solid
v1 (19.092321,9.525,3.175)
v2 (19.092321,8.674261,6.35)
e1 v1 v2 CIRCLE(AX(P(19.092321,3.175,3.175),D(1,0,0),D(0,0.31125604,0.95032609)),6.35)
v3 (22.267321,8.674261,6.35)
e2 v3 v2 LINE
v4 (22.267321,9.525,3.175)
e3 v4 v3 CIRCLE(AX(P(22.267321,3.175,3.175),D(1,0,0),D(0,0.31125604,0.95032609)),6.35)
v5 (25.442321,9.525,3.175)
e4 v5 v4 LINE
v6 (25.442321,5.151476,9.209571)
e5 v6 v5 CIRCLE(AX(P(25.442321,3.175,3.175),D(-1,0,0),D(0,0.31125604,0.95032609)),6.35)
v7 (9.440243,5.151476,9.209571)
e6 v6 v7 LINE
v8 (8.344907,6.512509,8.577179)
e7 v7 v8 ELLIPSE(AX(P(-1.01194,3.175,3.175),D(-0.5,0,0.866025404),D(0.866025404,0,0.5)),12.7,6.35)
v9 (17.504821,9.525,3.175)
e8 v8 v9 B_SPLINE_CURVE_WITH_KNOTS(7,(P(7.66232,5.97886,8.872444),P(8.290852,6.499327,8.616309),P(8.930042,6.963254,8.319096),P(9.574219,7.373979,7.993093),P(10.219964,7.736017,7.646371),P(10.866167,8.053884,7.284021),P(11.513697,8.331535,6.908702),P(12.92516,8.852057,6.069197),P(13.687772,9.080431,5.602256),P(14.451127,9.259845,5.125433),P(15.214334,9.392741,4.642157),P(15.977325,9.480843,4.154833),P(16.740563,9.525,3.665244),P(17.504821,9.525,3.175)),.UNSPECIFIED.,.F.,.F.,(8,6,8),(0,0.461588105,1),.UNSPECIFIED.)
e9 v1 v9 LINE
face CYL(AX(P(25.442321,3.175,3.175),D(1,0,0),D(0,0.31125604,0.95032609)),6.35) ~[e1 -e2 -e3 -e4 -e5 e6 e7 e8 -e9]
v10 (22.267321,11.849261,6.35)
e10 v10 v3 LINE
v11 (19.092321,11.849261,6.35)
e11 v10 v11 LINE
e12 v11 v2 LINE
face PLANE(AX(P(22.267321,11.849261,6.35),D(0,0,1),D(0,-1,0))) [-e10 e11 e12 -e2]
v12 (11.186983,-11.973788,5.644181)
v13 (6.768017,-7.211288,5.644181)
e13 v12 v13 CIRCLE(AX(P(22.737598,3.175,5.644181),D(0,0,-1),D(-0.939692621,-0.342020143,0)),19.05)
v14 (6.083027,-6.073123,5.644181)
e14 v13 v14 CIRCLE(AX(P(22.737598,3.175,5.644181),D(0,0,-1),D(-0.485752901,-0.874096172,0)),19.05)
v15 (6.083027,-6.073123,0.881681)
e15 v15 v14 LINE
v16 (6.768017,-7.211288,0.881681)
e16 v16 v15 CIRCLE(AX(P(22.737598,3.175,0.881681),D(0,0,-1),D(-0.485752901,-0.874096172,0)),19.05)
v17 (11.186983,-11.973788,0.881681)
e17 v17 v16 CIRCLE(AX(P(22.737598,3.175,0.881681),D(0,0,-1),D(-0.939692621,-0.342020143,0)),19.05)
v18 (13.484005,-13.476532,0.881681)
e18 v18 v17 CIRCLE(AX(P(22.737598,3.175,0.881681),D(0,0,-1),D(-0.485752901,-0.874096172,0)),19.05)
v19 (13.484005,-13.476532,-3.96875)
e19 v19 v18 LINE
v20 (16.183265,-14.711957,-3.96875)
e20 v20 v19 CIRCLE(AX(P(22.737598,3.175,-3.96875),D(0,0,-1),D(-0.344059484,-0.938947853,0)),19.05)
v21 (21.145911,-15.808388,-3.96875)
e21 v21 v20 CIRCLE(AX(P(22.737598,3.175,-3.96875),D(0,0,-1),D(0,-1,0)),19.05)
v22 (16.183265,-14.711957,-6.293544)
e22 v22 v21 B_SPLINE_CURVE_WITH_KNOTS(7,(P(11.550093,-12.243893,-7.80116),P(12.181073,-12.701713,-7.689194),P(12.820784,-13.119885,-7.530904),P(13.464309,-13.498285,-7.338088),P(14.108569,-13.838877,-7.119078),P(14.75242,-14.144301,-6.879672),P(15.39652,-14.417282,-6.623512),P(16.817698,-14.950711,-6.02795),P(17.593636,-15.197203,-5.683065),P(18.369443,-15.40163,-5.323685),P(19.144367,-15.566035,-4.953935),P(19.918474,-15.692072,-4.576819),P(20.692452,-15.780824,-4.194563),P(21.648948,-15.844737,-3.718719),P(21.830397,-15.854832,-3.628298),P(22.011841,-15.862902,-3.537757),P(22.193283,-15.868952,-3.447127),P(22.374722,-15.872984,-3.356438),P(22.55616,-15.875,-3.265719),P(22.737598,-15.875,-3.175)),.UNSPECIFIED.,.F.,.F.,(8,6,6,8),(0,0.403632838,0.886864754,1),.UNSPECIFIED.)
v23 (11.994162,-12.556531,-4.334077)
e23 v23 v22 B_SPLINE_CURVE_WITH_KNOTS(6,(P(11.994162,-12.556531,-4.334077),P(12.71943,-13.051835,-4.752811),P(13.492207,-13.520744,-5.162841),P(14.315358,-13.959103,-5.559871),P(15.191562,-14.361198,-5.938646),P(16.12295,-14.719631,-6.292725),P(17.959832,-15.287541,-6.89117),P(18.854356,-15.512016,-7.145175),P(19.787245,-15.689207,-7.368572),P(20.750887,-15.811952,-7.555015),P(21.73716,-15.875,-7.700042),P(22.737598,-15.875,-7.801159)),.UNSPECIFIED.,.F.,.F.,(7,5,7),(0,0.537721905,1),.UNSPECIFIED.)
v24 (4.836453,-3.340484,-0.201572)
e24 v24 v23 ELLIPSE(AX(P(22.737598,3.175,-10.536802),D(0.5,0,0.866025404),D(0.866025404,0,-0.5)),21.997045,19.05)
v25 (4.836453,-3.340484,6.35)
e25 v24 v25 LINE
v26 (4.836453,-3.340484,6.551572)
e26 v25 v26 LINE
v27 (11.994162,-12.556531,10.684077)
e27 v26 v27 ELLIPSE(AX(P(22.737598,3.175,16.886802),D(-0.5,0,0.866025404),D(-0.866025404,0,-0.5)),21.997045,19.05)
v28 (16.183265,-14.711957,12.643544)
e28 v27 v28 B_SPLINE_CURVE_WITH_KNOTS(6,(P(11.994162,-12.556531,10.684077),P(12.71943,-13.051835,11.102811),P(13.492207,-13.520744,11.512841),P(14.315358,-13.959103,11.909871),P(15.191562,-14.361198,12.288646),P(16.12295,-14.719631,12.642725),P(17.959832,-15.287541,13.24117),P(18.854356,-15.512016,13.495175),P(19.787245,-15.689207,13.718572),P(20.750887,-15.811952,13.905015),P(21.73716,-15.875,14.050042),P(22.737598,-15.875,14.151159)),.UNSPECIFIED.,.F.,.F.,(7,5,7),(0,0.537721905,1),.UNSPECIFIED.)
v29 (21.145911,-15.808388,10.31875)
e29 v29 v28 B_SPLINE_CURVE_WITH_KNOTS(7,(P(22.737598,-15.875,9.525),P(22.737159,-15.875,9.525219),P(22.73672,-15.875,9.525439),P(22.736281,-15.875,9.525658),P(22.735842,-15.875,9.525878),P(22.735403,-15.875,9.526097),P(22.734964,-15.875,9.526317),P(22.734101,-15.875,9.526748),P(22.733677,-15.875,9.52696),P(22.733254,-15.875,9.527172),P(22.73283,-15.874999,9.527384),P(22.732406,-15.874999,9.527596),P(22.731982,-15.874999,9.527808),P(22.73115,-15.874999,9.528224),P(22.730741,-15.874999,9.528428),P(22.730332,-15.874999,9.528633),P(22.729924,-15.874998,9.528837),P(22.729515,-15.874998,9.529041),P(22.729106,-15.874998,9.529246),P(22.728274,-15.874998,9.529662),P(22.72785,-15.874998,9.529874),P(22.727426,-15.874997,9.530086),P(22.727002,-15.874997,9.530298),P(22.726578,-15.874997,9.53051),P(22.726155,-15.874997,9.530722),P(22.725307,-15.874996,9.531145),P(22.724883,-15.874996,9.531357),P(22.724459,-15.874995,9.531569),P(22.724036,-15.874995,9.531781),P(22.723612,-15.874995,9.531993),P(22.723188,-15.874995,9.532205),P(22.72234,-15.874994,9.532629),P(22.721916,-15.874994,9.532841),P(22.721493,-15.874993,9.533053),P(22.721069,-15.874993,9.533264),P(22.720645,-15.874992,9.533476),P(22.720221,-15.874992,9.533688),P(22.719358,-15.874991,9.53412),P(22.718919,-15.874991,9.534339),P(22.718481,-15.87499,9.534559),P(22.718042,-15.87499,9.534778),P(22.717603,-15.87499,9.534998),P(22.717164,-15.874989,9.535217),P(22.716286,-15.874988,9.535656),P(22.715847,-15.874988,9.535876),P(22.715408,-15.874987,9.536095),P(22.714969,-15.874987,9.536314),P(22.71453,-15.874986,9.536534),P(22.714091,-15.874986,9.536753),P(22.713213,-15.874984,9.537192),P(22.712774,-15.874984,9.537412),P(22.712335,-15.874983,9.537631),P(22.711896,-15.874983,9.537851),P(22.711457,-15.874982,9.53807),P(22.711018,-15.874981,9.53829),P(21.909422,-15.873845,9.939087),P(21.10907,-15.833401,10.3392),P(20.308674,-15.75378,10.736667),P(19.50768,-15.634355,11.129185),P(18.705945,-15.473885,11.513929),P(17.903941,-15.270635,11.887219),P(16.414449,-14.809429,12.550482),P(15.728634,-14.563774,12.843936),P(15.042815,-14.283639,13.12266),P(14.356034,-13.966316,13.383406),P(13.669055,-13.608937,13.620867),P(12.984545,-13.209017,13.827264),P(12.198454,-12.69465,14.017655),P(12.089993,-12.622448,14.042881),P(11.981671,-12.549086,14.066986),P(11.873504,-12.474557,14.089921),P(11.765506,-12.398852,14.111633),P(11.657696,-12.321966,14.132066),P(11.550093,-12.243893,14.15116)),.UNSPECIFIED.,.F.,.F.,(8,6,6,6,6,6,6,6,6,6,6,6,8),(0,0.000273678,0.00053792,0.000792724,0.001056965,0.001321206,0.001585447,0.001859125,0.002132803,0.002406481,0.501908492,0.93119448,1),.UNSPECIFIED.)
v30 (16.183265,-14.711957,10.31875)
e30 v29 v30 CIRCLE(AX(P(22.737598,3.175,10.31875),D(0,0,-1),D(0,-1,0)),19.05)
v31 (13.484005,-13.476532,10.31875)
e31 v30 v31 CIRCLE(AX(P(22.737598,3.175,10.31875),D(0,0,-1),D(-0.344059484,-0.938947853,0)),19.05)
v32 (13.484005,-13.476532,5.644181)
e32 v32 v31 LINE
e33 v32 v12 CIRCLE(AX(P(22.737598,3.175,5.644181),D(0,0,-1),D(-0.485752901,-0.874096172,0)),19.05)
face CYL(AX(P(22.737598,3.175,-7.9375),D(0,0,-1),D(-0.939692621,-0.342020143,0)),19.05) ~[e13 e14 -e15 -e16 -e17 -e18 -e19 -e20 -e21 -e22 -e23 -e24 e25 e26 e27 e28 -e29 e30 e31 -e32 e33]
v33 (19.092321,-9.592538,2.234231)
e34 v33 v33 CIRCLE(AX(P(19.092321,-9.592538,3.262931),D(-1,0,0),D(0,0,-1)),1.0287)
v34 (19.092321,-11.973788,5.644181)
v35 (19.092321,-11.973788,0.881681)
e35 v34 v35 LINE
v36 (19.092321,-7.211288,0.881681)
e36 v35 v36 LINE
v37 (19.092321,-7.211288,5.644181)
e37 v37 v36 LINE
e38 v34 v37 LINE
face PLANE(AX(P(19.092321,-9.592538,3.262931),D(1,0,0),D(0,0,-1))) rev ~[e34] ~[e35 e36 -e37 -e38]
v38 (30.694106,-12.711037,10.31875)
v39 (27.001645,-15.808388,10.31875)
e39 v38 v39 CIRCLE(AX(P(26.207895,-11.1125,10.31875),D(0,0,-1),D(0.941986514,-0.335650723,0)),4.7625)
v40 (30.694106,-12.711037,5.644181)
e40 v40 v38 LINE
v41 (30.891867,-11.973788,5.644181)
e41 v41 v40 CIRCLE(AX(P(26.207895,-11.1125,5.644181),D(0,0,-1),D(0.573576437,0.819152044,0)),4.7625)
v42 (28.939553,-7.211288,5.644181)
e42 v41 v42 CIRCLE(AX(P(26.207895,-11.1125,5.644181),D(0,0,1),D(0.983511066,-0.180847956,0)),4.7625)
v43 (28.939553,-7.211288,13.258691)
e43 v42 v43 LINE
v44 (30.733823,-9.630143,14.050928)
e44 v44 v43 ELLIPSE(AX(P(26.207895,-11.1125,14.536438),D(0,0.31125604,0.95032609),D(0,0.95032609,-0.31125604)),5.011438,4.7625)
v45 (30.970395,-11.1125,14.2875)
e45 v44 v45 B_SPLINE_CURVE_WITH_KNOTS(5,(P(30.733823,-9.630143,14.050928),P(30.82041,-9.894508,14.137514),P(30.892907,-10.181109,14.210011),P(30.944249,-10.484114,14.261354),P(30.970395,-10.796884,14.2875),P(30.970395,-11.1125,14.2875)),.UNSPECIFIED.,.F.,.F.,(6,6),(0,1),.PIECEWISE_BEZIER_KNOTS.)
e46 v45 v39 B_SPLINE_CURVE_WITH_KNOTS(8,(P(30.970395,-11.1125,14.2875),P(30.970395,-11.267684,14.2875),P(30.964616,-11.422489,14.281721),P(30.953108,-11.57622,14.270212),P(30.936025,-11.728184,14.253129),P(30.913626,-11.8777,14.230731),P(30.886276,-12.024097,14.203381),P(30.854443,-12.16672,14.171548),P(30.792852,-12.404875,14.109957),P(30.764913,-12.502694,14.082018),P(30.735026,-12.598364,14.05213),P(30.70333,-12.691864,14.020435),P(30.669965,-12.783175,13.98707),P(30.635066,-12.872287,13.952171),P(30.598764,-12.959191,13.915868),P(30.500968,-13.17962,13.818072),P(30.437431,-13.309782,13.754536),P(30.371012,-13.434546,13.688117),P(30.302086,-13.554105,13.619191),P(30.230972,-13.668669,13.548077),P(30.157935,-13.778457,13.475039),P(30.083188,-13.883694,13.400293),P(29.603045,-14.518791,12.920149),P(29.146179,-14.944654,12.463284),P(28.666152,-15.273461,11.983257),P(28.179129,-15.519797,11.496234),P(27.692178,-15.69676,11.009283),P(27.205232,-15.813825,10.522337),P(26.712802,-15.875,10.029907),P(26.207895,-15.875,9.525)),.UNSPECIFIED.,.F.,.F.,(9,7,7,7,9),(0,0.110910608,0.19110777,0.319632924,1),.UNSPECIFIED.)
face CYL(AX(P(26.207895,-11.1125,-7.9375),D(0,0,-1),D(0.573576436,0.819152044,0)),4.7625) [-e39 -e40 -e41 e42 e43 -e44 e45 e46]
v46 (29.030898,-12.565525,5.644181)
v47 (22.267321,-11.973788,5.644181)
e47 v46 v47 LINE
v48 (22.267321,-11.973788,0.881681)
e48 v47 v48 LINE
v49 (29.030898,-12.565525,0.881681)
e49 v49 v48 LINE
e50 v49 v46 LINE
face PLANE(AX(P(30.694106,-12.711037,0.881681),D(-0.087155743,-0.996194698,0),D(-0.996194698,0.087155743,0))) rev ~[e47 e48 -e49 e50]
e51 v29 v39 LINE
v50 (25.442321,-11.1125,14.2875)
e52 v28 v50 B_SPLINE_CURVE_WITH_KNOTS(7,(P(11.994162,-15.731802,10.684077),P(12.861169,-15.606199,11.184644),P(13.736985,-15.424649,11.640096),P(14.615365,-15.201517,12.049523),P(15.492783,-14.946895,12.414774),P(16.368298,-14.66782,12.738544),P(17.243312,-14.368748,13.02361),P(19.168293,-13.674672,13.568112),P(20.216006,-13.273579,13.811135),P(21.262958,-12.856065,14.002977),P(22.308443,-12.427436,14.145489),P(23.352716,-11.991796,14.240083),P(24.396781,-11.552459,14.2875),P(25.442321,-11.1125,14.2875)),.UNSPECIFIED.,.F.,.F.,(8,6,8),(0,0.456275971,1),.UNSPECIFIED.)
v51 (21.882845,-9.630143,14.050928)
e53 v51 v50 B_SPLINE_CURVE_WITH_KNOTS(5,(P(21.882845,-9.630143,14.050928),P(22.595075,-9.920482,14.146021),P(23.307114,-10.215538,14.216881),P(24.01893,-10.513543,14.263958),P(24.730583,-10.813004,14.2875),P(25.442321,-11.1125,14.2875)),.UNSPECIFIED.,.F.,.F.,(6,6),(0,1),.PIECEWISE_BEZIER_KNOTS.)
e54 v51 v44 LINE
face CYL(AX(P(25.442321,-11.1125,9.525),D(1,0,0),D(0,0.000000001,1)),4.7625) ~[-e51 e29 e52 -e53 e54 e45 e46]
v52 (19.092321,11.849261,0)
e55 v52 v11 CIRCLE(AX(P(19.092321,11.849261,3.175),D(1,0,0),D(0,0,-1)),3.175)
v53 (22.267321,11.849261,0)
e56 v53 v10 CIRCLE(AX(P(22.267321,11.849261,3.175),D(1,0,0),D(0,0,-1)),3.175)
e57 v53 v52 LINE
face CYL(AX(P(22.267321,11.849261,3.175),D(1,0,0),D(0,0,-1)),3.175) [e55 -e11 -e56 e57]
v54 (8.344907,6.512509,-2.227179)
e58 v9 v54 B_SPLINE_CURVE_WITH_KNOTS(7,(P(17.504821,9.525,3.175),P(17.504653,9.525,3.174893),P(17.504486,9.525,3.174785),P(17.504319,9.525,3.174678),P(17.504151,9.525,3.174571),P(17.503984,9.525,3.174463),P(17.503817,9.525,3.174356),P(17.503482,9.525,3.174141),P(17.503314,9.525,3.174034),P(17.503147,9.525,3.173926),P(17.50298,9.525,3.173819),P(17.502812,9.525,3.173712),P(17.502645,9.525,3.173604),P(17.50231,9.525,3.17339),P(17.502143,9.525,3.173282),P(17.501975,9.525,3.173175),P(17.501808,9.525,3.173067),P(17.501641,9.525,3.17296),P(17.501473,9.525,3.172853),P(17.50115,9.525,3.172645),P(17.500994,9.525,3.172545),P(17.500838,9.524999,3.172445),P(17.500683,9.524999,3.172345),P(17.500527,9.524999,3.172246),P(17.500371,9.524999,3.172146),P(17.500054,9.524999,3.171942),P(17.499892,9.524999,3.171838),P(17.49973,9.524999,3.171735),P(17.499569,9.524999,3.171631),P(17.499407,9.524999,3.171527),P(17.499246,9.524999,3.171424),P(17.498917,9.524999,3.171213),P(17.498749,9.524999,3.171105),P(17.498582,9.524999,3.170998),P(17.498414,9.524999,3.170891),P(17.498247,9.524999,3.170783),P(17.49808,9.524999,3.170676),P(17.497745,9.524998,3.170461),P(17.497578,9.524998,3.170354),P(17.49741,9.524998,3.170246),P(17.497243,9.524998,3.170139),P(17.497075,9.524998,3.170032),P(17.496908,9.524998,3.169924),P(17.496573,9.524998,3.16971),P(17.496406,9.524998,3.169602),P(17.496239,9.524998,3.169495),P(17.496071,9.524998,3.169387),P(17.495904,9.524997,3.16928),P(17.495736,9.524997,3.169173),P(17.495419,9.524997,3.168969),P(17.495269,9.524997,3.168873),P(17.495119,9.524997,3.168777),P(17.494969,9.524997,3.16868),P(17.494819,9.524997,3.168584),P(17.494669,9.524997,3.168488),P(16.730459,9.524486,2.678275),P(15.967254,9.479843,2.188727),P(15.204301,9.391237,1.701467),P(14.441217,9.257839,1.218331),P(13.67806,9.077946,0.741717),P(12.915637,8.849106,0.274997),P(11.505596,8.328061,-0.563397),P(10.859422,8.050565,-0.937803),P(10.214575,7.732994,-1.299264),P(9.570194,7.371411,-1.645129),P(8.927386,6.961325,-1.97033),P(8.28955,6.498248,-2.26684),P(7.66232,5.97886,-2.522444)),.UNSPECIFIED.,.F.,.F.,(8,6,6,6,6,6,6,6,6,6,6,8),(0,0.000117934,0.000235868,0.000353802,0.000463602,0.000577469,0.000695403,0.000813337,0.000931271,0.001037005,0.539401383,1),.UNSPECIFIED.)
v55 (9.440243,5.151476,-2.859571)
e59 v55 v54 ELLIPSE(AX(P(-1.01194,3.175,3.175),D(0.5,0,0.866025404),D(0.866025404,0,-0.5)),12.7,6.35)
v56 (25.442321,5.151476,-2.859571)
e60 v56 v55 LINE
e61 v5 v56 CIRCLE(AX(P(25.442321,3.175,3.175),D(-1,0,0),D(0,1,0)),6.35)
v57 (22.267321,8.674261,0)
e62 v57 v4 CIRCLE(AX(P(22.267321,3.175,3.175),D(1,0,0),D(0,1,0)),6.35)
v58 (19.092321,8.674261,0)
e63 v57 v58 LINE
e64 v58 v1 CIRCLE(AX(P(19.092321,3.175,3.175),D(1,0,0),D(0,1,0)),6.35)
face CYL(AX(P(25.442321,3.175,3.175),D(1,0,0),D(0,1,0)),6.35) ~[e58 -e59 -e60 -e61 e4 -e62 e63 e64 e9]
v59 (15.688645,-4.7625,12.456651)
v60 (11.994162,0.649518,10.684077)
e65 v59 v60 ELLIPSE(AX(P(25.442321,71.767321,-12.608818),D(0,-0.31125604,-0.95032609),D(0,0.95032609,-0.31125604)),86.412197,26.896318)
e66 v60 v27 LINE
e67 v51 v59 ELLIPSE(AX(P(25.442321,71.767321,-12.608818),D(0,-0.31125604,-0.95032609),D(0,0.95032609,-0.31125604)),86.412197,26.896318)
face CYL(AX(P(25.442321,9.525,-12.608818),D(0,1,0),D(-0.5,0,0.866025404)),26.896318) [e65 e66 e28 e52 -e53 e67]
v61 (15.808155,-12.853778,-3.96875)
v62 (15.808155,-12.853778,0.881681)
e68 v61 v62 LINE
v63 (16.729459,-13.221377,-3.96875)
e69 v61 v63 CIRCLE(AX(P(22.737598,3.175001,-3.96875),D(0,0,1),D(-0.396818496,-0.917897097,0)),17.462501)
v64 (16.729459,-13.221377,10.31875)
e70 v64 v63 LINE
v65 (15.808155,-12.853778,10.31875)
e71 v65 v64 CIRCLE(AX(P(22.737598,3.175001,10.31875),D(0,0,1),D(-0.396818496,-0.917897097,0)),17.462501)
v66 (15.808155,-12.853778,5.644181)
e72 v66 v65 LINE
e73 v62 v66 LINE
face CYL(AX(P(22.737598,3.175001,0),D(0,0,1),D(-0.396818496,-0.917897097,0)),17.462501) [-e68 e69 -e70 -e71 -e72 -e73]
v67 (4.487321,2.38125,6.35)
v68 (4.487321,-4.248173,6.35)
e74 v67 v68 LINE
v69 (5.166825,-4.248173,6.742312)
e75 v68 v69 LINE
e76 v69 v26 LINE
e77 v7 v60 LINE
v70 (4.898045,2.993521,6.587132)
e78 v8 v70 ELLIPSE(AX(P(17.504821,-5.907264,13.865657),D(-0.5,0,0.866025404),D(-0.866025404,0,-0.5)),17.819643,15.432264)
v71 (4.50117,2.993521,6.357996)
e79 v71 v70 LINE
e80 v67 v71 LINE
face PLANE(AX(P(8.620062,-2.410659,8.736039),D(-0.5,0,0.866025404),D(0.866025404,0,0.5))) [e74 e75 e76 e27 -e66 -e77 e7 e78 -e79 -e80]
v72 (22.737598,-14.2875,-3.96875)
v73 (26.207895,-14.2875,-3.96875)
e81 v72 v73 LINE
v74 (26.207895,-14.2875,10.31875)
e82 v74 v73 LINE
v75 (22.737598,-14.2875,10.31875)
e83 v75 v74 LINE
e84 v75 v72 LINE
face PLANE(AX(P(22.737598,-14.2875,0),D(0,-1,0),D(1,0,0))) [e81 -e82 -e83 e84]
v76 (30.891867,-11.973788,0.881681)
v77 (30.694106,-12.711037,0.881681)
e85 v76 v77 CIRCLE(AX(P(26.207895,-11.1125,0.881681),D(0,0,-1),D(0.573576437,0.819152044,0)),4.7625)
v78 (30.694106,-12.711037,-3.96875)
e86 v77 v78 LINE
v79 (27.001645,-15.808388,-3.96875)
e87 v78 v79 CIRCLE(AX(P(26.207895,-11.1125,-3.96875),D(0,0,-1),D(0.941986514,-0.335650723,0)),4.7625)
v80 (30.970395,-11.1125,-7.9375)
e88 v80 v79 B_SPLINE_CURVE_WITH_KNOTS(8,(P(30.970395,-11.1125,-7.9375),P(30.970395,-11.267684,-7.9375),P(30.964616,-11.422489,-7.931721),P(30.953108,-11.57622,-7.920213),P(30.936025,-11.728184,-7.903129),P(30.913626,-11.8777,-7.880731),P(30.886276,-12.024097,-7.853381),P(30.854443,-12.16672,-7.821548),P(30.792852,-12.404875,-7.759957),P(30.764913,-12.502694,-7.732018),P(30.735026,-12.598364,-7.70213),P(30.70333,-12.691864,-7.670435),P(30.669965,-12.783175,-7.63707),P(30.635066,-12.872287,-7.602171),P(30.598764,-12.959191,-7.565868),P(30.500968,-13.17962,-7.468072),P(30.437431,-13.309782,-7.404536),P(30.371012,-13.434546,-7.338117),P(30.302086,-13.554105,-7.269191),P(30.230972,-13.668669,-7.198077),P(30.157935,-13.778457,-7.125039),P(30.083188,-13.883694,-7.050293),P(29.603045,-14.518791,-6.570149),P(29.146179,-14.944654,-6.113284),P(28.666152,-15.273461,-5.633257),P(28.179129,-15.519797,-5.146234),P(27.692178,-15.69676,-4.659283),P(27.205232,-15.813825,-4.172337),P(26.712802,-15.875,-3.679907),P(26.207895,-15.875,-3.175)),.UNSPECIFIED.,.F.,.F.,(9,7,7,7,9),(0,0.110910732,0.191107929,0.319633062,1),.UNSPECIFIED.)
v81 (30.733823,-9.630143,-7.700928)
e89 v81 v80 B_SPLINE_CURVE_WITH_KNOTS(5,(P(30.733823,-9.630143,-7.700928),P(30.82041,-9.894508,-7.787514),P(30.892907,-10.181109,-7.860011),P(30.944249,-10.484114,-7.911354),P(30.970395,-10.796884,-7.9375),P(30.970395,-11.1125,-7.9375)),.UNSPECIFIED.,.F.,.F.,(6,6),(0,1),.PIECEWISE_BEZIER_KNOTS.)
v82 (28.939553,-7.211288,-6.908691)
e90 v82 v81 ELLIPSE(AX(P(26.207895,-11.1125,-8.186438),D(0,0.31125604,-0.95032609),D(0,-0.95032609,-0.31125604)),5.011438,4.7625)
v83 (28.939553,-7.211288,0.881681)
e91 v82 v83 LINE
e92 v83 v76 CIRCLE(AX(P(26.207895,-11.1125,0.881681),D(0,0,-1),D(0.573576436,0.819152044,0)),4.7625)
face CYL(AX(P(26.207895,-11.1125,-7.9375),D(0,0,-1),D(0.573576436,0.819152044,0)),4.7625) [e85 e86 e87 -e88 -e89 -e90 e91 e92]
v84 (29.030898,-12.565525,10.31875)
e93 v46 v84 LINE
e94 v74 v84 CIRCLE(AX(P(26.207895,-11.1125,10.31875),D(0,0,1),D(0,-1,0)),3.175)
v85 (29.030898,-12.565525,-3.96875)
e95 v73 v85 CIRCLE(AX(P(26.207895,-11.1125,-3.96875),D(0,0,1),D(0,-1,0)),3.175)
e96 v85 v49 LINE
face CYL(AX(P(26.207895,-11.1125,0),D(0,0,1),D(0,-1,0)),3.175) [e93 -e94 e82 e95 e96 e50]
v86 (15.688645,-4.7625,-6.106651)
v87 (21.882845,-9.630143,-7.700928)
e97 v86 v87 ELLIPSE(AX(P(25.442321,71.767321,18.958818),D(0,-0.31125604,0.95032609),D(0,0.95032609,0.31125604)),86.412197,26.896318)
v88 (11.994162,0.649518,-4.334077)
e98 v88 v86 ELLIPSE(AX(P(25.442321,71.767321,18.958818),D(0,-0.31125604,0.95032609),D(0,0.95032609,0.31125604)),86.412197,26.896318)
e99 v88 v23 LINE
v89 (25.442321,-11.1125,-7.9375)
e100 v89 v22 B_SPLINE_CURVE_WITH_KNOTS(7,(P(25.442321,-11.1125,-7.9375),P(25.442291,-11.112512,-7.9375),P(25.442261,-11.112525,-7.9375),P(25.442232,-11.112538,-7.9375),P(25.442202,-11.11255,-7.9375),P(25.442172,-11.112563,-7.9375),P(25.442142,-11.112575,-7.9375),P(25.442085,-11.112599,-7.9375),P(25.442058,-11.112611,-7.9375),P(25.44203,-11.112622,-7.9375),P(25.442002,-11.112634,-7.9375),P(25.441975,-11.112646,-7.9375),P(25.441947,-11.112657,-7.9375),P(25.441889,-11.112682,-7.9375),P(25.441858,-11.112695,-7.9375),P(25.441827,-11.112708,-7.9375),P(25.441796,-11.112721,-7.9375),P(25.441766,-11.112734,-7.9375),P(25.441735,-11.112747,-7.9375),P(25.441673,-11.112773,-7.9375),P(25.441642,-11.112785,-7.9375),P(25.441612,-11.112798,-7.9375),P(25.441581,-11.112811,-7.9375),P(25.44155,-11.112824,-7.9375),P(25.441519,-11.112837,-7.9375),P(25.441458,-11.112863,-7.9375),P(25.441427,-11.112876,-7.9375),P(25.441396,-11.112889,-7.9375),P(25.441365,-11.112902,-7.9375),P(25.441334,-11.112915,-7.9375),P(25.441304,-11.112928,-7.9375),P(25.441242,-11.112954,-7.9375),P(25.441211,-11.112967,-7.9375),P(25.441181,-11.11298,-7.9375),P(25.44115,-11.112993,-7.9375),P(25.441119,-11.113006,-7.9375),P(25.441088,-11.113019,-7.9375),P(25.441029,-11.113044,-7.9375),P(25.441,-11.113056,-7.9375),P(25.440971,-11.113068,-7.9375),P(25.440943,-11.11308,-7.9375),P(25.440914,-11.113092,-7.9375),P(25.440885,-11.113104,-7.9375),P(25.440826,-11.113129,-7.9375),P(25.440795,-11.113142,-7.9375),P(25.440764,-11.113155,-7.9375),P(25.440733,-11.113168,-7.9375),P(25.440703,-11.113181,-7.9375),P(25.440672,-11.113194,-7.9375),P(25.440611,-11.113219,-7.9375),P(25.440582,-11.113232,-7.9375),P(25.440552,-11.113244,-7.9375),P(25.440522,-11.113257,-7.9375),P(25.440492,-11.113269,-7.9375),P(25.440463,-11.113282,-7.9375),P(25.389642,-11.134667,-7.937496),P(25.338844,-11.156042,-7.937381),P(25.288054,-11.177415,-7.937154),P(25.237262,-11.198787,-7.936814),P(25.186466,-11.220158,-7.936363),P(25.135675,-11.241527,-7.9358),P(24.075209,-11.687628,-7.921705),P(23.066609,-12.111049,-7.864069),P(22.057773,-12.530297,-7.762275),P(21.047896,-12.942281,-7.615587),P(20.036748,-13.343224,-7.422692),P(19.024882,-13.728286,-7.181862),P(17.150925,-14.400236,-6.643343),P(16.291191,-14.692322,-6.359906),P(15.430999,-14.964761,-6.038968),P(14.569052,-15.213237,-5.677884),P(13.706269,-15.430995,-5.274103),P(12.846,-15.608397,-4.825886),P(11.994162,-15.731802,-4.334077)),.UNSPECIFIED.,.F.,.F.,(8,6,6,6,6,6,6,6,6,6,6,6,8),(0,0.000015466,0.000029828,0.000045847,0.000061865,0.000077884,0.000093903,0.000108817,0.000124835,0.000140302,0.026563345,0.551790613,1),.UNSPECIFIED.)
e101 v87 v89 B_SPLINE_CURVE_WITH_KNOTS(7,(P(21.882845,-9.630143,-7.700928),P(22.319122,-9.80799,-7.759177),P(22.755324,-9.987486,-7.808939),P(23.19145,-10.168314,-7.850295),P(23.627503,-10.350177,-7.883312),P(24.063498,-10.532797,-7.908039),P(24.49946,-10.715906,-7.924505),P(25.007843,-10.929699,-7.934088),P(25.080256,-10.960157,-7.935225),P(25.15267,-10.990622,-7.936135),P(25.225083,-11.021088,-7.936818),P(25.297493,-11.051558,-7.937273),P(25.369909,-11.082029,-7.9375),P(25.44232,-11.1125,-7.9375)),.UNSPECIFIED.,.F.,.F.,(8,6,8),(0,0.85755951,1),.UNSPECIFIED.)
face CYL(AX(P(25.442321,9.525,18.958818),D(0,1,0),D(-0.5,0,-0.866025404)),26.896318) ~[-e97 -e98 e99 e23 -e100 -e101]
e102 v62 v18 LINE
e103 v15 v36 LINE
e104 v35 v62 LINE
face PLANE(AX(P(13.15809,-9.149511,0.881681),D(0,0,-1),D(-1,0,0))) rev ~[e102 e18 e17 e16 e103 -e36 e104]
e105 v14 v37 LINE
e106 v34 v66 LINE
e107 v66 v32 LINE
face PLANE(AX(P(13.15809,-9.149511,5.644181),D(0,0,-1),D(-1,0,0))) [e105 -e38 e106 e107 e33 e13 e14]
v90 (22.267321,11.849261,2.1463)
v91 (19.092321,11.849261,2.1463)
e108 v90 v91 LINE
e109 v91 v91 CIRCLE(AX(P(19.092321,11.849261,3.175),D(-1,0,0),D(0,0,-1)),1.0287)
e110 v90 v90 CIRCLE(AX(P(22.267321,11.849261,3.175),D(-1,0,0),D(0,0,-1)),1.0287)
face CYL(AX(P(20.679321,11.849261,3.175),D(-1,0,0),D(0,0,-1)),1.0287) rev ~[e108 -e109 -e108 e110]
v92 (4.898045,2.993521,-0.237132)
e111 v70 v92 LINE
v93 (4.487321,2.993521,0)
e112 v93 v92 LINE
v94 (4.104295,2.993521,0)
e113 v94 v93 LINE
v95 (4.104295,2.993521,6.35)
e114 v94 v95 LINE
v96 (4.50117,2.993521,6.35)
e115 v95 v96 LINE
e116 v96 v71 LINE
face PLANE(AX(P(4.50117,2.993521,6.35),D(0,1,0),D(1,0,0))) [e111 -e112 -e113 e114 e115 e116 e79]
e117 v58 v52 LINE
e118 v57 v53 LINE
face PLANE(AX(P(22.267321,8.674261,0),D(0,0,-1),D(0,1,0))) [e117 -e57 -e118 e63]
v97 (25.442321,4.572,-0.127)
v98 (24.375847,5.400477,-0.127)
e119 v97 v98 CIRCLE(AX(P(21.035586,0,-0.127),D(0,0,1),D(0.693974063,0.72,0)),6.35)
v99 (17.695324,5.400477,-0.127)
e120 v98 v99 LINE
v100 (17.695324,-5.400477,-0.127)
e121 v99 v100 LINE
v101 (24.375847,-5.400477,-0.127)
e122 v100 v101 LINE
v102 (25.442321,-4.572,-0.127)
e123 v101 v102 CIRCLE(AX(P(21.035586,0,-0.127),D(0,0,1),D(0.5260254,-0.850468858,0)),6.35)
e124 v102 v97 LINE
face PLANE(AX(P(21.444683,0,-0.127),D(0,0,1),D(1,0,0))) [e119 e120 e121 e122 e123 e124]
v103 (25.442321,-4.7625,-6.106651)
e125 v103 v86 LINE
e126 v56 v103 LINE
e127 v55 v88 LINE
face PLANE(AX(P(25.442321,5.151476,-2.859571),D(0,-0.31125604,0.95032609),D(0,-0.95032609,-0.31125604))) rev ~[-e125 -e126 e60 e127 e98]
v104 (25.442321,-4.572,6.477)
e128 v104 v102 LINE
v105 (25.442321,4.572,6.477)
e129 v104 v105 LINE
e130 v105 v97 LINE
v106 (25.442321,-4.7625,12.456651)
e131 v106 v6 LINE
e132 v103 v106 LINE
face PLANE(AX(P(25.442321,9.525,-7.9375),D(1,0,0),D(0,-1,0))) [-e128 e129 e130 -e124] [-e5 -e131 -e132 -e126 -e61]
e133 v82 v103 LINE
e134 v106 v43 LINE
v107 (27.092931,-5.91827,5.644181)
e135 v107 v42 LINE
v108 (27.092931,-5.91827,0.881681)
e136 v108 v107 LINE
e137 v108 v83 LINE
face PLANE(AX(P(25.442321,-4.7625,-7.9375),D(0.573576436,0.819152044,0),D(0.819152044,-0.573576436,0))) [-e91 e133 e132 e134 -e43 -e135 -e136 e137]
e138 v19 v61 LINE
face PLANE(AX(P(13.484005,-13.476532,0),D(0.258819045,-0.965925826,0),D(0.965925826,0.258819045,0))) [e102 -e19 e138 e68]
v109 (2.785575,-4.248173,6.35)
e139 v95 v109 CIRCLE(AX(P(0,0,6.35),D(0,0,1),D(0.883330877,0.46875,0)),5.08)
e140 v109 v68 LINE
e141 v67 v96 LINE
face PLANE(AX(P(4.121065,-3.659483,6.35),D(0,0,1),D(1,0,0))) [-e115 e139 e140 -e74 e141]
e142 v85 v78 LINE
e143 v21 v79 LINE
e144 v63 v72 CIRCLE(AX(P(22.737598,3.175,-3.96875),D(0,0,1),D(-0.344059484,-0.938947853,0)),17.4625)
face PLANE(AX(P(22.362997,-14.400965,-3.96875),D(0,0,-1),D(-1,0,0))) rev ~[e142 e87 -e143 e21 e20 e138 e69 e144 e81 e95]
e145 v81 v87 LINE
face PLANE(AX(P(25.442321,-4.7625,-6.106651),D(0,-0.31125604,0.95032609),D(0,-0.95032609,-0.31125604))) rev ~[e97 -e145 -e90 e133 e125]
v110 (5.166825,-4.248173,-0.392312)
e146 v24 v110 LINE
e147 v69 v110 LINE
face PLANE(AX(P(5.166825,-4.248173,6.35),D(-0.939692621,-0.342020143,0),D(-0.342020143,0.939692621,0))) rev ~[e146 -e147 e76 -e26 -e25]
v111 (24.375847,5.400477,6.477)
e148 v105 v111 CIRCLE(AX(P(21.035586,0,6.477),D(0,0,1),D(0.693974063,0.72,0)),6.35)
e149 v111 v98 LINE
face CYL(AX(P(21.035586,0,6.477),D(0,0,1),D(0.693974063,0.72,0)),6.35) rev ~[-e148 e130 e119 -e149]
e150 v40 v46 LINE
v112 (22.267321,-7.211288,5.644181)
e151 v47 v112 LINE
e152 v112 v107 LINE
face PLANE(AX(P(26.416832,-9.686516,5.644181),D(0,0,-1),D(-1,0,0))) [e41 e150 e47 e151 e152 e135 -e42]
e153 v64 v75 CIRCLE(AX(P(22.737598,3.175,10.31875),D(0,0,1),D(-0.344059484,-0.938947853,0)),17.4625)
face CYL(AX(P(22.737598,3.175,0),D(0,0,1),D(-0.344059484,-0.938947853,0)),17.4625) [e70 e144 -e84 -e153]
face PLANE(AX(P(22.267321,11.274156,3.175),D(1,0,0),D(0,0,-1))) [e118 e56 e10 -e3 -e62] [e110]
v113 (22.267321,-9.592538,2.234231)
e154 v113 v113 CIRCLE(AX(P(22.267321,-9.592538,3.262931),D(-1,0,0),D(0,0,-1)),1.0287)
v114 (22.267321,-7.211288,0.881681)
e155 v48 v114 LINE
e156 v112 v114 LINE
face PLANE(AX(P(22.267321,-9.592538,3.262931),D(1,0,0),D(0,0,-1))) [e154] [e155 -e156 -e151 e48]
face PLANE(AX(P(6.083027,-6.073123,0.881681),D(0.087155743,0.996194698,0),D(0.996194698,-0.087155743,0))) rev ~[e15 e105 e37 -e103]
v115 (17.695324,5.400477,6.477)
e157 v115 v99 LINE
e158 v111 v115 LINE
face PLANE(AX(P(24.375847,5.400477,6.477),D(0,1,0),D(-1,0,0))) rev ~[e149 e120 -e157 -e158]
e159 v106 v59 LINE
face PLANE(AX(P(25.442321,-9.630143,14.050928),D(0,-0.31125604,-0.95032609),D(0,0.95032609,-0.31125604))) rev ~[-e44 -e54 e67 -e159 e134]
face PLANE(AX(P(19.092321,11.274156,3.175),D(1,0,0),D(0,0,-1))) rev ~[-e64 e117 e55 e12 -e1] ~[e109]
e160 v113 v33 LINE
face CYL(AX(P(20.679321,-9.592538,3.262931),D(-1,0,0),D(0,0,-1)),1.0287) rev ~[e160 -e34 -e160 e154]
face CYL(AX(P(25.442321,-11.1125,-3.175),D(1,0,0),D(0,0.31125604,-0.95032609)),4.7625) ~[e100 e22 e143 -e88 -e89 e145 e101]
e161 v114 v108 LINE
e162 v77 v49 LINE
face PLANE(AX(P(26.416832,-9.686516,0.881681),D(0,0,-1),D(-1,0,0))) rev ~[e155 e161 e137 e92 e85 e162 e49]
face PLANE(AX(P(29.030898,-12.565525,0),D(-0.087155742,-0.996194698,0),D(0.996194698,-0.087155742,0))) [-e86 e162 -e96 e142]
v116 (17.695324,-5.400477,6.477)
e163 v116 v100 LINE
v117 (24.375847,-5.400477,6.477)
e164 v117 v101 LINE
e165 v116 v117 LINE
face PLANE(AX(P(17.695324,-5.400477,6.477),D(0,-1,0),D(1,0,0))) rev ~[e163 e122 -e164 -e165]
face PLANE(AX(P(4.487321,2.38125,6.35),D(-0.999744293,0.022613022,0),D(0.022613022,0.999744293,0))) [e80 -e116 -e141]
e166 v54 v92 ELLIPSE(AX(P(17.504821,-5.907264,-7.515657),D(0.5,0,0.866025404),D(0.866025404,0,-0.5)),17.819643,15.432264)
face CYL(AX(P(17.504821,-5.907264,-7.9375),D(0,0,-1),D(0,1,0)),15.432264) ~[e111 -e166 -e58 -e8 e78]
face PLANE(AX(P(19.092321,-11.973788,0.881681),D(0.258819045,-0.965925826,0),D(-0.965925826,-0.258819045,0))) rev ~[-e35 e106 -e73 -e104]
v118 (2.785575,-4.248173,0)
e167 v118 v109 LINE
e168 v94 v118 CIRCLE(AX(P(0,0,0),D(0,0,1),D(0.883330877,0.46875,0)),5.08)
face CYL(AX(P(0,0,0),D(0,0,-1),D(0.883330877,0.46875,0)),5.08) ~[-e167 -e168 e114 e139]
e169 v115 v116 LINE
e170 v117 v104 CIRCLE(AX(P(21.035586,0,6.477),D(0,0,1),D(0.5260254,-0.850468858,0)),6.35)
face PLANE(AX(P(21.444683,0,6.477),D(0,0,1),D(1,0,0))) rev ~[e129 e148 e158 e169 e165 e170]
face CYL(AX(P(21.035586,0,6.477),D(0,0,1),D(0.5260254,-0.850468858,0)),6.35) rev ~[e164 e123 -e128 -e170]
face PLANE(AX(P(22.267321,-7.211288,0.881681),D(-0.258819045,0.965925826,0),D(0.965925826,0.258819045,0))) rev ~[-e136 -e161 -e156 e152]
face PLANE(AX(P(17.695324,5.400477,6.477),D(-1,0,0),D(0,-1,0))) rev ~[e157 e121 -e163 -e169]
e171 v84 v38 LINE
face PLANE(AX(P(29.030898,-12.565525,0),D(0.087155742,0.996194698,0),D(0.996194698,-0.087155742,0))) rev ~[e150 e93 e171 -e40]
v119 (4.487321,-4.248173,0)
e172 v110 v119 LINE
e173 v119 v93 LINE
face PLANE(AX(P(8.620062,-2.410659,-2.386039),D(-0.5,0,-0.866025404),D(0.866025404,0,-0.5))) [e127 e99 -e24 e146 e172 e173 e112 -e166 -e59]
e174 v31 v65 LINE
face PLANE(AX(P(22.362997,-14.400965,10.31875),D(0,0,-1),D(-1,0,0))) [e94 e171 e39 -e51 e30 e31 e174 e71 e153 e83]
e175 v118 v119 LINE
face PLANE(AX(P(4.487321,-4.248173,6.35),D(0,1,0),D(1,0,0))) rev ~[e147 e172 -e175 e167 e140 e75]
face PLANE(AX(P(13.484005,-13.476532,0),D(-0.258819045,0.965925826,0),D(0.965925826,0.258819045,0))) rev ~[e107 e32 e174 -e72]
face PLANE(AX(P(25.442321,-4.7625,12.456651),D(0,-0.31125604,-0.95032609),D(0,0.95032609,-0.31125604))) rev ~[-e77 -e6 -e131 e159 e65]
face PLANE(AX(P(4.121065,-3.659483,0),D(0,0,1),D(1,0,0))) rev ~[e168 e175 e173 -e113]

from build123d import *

# Parameters (mm, degrees)
BOSS_EXTRUDE1_DEPTH      = 6.35
BOSS_EXTRUDE2_START      = -7.9375
BOSS_EXTRUDE2_DEPTH      = 22.225
CUT_EXTRUDE1_DEPTH       = 51.557144521
CUT_EXTRUDE2_START       = -7.9375
CUT_EXTRUDE2_DEPTH       = 25.24
CUT_EXTRUDE7_DEPTH       = 10
CUT_EXTRUDE7_DEPTH_BACK  = 19.05
CUT_EXTRUDE10_DEPTH      = 10.16
CUT_EXTRUDE10_DEPTH_BACK = 17.78
CUT_EXTRUDE8_START       = 0.127
CUT_EXTRUDE8_DEPTH       = 6.604
BOSS_EXTRUDE3_START      = -3.175
BOSS_EXTRUDE3_DEPTH      = 3.175
SKETCH14_W               = 1.0287
SKETCH14_H               = 3.176
SKETCH15_W               = 4.7625
SKETCH15_H               = 4.7625
CUT_EXTRUDE15_DEPTH      = 8.703074479
CUT_EXTRUDE16_START      = -3.175
SKETCH16_W               = 4.7625
SKETCH16_H               = 4.7625
CUT_EXTRUDE16_DEPTH      = 32.52405251
SKETCH18_W               = 1.0287
SKETCH18_H               = 3.176
CUT_EXTRUDE17_DEPTH      = 4.7625
BOSS_EXTRUDE5_REACH      = 39.621
BOSS_EXTRUDE6_DEPTH      = 6.35
BOSS_EXTRUDE8_REACH      = 39.621
CUT_EXTRUDE19_DEPTH      = 10.31875
CUT_EXTRUDE19_DEPTH_BACK = 3.96875


with BuildPart() as part:
    # Sketch2 → Boss-Extrude1 (new body)
    with BuildSketch(Plane.XY):
        with BuildLine():
            Line((4.487320853, -2.38125), (4.487320853, 2.38125))
            ThreePointArc((4.487320853, 2.38125), (-5.08, 0), (4.487320853, -2.38125))
        make_face()
    extrude(amount=BOSS_EXTRUDE1_DEPTH)


with BuildPart() as body_2:
    # Sketch3 → Boss-Extrude2 (new body)
    with BuildSketch(Plane.XY.offset(BOSS_EXTRUDE2_START)):
        Polygon((4.487320853, 9.525), (25.442320853, 9.525), (25.442320853, -4.7625), (41.312615578, -15.875), (25.442320853, -15.875), (4.487320853, -15.875), align=None)
    extrude(amount=BOSS_EXTRUDE2_DEPTH)

    # Sketch4 → Cut-Extrude1 (cut, through all)
    with BuildSketch(Plane(origin=(0, 9.525, 0), x_dir=(1, 0, 0), z_dir=(0, 1, 0))):
        with BuildLine():
            Line((4.487320853, -6.35), (11.994161802, -10.684076643))
            ThreePointArc((11.994161802, -10.684076643), (18.481041485, -13.371030185), (25.442320853, -14.2875))
            Line((25.442320853, -14.2875), (4.487320853, -14.2875))
            Line((4.487320853, -14.2875), (4.487320853, -6.35))
        make_face()
        with BuildLine():
            Line((4.487320853, 0), (11.994161802, 4.334076643))
            ThreePointArc((11.994161802, 4.334076643), (18.481041485, 7.021030185), (25.442320853, 7.9375))
            Line((25.442320853, 7.9375), (4.487320853, 7.9375))
            Line((4.487320853, 7.9375), (4.487320853, 0))
        make_face()
    extrude(amount=-CUT_EXTRUDE1_DEPTH, mode=Mode.SUBTRACT)

    # Sketch5 → Cut-Extrude2 (cut)
    with BuildSketch(Plane.XY.offset(CUT_EXTRUDE2_START)):
        with BuildLine():
            Line((4.487320853, -15.875), (4.487320853, -2.38125))
            Line((4.487320853, -2.38125), (4.836453379, -3.34048373))
            ThreePointArc((4.836453379, -3.34048373), (11.810966692, -12.429846444), (22.737597804, -15.875))
            Line((22.737597804, -15.875), (4.487320853, -15.875))
        make_face()
        with BuildLine():
            Line((4.487320853, 2.38125), (4.487320853, 9.525))
            Line((4.487320853, 9.525), (17.504820853, 9.525))
            ThreePointArc((17.504820853, 9.525), (10.080393765, 7.621692137), (4.487320853, 2.38125))
        make_face()
        with BuildLine():
            Line((26.207895332, -15.875), (41.312615578, -15.875))
            Line((41.312615578, -15.875), (28.93955311, -7.211288389))
            ThreePointArc((28.93955311, -7.211288389), (30.74997231, -12.54461137), (26.207895332, -15.875))
        make_face()
    extrude(amount=CUT_EXTRUDE2_DEPTH, mode=Mode.SUBTRACT)

    # Sketch7 → Cut-Extrude7 (cut, two sides)
    with BuildSketch(Plane(origin=(25.442320853, 0, 0), x_dir=(0, 0, -1), z_dir=(1, 0, 0))) as cut_extrude7_sk:
        with BuildLine():
            ThreePointArc((-9.525, -15.875), (-12.892596049, -14.480096041), (-14.2875, -11.112499989))
            Line((-14.2875, -11.112499989), (-14.2875, -15.875))
            Line((-14.2875, -15.875), (-9.525, -15.875))
        make_face()
        with BuildLine():
            ThreePointArc((7.9375, -11.112499982), (6.542596052, -14.480096039), (3.175, -15.875))
            Line((3.175, -15.875), (7.9375, -15.875))
            Line((7.9375, -15.875), (7.9375, -11.112499982))
        make_face()
    extrude(amount=CUT_EXTRUDE7_DEPTH, mode=Mode.SUBTRACT)
    extrude(cut_extrude7_sk.sketch, amount=-CUT_EXTRUDE7_DEPTH_BACK, mode=Mode.SUBTRACT)

    # Sketch7<4> → Cut-Extrude10 (cut, two sides)
    with BuildSketch(Plane(origin=(25.442320853, 0, 0), x_dir=(0, 0, -1), z_dir=(1, 0, 0))) as cut_extrude10_sk:
        with BuildLine():
            ThreePointArc((-9.209570672, 5.151475854), (-6.901384194, 8.316649622), (-3.175, 9.525))
            Line((-3.175, 9.525), (-14.2875, 9.525))
            Line((-14.2875, 9.525), (-14.2875, -4.7625))
            Line((-14.2875, -4.7625), (-12.456650698, -4.7625))
            Line((-12.456650698, -4.7625), (-9.209570672, 5.151475854))
        make_face()
        with BuildLine():
            Line((6.106650698, -4.7625), (7.9375, -4.7625))
            Line((7.9375, -4.7625), (7.9375, 9.525))
            Line((7.9375, 9.525), (-3.175, 9.525))
            ThreePointArc((-3.175, 9.525), (0.551384194, 8.316649622), (2.859570672, 5.151475854))
            Line((2.859570672, 5.151475854), (6.106650698, -4.7625))
        make_face()
        with BuildLine():
            ThreePointArc((7.700928004, -9.630143109), (7.877985134, -10.361942155), (7.9375, -11.112499982))
            Line((7.9375, -11.112499982), (7.9375, -4.7625))
            Line((7.9375, -4.7625), (6.106650698, -4.7625))
            Line((6.106650698, -4.7625), (7.700928004, -9.630143109))
        make_face()
        with BuildLine():
            Line((-14.050928004, -9.630143109), (-12.456650698, -4.7625))
            Line((-12.456650698, -4.7625), (-14.2875, -4.7625))
            Line((-14.2875, -4.7625), (-14.2875, -11.112499989))
            ThreePointArc((-14.2875, -11.112499989), (-14.227985135, -10.361942158), (-14.050928004, -9.630143109))
        make_face()
    extrude(amount=CUT_EXTRUDE10_DEPTH, mode=Mode.SUBTRACT)
    extrude(cut_extrude10_sk.sketch, amount=-CUT_EXTRUDE10_DEPTH_BACK, mode=Mode.SUBTRACT)

    # Sketch8 → Cut-Extrude8 (cut)
    with BuildSketch(Plane.XY.offset(6.35).offset(CUT_EXTRUDE8_START)):
        with BuildLine():
            Line((25.442320853, -4.572), (25.442320853, 4.572))
            ThreePointArc((25.442320853, 4.572), (24.931170577, 5.014670211), (24.375846843, 5.400477249))
            Line((24.375846843, 5.400477249), (17.695324263, 5.400477249))
            Line((17.695324263, 5.400477249), (17.695324263, -5.400477249))
            Line((17.695324263, -5.400477249), (24.375846843, -5.400477249))
            ThreePointArc((24.375846843, -5.400477249), (24.931170577, -5.014670211), (25.442320853, -4.572))
        make_face()
    extrude(amount=-CUT_EXTRUDE8_DEPTH, mode=Mode.SUBTRACT)

    # Sketch12 → Boss-Extrude3 (add)
    with BuildSketch(Plane(origin=(25.442320853, 0, 0), x_dir=(0, 0, -1), z_dir=(1, 0, 0)).offset(BOSS_EXTRUDE3_START)):
        with BuildLine():
            Line((-6.35, 8.674261314), (0, 8.674261314))
            Line((0, 8.674261314), (0, 11.849261314))
            ThreePointArc((0, 11.849261314), (-3.175, 15.024261314), (-6.35, 11.849261314))
            Line((-6.35, 11.849261314), (-6.35, 8.674261314))
        make_face()
    extrude(amount=-BOSS_EXTRUDE3_DEPTH)

    # Sketch14 → #1 Clearance Hole1 (revolve, cut)
    with BuildSketch(Plane(origin=(22.267320853, 11.849261314, 3.175), x_dir=(0, 0, -1), z_dir=(0, 1, 0))):
        with Locations((0.51435, 1.588)):
            Rectangle(SKETCH14_W, SKETCH14_H)
    revolve(axis=Axis((28.617320853, 11.849261314, 3.175), (-1, 0, 0)), mode=Mode.SUBTRACT)

    # Sketch15 → Cut-Extrude15 (cut)
    with BuildSketch(Plane(origin=(30.970395332, 0, 0), x_dir=(0, 0, -1), z_dir=(1, 0, 0))):
        with Locations((-3.262930867, -9.592538389)):
            Rectangle(SKETCH15_W, SKETCH15_H)
    extrude(amount=-CUT_EXTRUDE15_DEPTH, mode=Mode.SUBTRACT)

    # Sketch16 → Cut-Extrude16 (cut, through all)
    with BuildSketch(Plane(origin=(22.267320853, 0, 0), x_dir=(0, 0, -1), z_dir=(1, 0, 0)).offset(CUT_EXTRUDE16_START)):
        with Locations((-3.262930867, -9.592538389)):
            Rectangle(SKETCH16_W, SKETCH16_H)
    extrude(amount=-CUT_EXTRUDE16_DEPTH, mode=Mode.SUBTRACT)

    # Sketch18 → #1 Clearance Hole2 (revolve, cut)
    with BuildSketch(Plane(origin=(22.267320853, -9.592538389, 3.262930867), x_dir=(0, 0, -1), z_dir=(0, 1, 0))):
        with Locations((0.51435, 1.588)):
            Rectangle(SKETCH18_W, SKETCH18_H)
    revolve(axis=Axis((28.617320853, -9.592538389, 3.262930867), (-1, 0, 0)), mode=Mode.SUBTRACT)

    # Sketch19 → Cut-Extrude17 (cut)
    with BuildSketch(Plane.XY.offset(0.881680867)):
        with BuildLine():
            Line((19.092320853, -11.973788389), (13.48400503, -13.476532085))
            ThreePointArc((13.48400503, -13.476532085), (9.265001461, -10.293171657), (6.083027043, -6.07312266))
            Line((6.083027043, -6.07312266), (19.092320853, -7.211288389))
            Line((19.092320853, -7.211288389), (19.092320853, -11.973788389))
        make_face()
        with BuildLine():
            Line((22.267320853, -7.211288389), (27.092931392, -5.918269942))
            Line((27.092931392, -5.918269942), (28.93955311, -7.211288389))
            ThreePointArc((28.93955311, -7.211288389), (30.745098667, -9.665022145), (30.694106103, -12.711036568))
            Line((30.694106103, -12.711036568), (22.267320853, -11.973788389))
            Line((22.267320853, -11.973788389), (22.267320853, -7.211288389))
        make_face()
    extrude(amount=CUT_EXTRUDE17_DEPTH, mode=Mode.SUBTRACT)

    # Boss-Extrude5: up to this face of the body (flat: up to its plane)
    boss_extrude5_end = Plane(body_2.part.faces().sort_by_distance((8.620061627, -2.410659079, -2.386038999))[0])
    # Sketch21 → Boss-Extrude5 (add, up to the picked face)
    with BuildSketch(Plane(origin=(0, 0, 0), x_dir=(-1, 0, 0), z_dir=(0, 0, -1)), mode=Mode.PRIVATE) as boss_extrude5_sk1:
        with BuildLine():
            Line((-4.487320853, 2.38125), (-4.487320853, 2.993520531))
            Line((-4.487320853, 2.993520531), (-4.898044681, 2.993520531))
            ThreePointArc((-4.898044681, 2.993520531), (-4.689025867, 2.689838391), (-4.487320853, 2.38125))
        make_face()
    boss_extrude5_tool1 = split(extrude(boss_extrude5_sk1.sketch, amount=BOSS_EXTRUDE5_REACH, mode=Mode.PRIVATE), bisect_by=boss_extrude5_end, keep=Keep.BOTH, mode=Mode.PRIVATE)
    # Sketch21 → Boss-Extrude5 (add, up to the picked face)
    with BuildSketch(Plane(origin=(0, 0, 0), x_dir=(-1, 0, 0), z_dir=(0, 0, -1)), mode=Mode.PRIVATE) as boss_extrude5_sk2:
        Polygon((-4.487320853, -2.38125), (-5.166825139, -4.248172683), (-4.487320853, -4.248172683), align=None)
    boss_extrude5_tool2 = split(extrude(boss_extrude5_sk2.sketch, amount=BOSS_EXTRUDE5_REACH, mode=Mode.PRIVATE), bisect_by=boss_extrude5_end, keep=Keep.BOTH, mode=Mode.PRIVATE)

    add(part.part)  # Boss-Extrude5 merges part
    add(boss_extrude5_tool1.solids().sort_by(Axis((4.623055, 2.791201, 0), (0, 0, -1)))[0])
    add(boss_extrude5_tool2.solids().sort_by(Axis((4.713822, -3.625865, 0), (0, 0, -1)))[0])

    # Sketch21<3> → Boss-Extrude6 (add)
    with BuildSketch(Plane(origin=(0, 0, 0), x_dir=(-1, 0, 0), z_dir=(0, 0, -1))):
        with BuildLine():
            Line((-5.166825139, -4.248172683), (-4.487320853, -2.38125))
            ThreePointArc((-4.487320853, -2.38125), (-3.754344697, -3.42217707), (-2.785575139, -4.248172683))
            Line((-2.785575139, -4.248172683), (-5.166825139, -4.248172683))
        make_face()
        with BuildLine():
            Line((-4.104294681, 2.993520531), (-4.898044681, 2.993520531))
            ThreePointArc((-4.898044681, 2.993520531), (-4.689025867, 2.689838391), (-4.487320853, 2.38125))
            ThreePointArc((-4.487320853, 2.38125), (-4.306702123, 2.694200592), (-4.104294681, 2.993520531))
        make_face()
    extrude(amount=-BOSS_EXTRUDE6_DEPTH)

    # Boss-Extrude8: up to this face of the body (flat: up to its plane)
    boss_extrude8_end = Plane(body_2.part.faces().sort_by_distance((8.620061627, -2.410659079, 8.736038999))[0])
    # Sketch22 → Boss-Extrude8 (add, up to the picked face)
    with BuildSketch(Plane.XY.offset(6.35), mode=Mode.PRIVATE) as boss_extrude8_sk1:
        Polygon((4.487320853, 2.38125), (4.501169681, 2.993520531), (4.898044681, 2.993520531), align=None)
    boss_extrude8_tool1 = split(extrude(boss_extrude8_sk1.sketch, amount=BOSS_EXTRUDE8_REACH, mode=Mode.PRIVATE), bisect_by=boss_extrude8_end, keep=Keep.BOTH, mode=Mode.PRIVATE)
    # Sketch22 → Boss-Extrude8 (add, up to the picked face)
    with BuildSketch(Plane.XY.offset(6.35), mode=Mode.PRIVATE) as boss_extrude8_sk2:
        Polygon((4.487320853, -2.38125), (4.487320853, -4.248172683), (5.166825139, -4.248172683), align=None)
    boss_extrude8_tool2 = split(extrude(boss_extrude8_sk2.sketch, amount=BOSS_EXTRUDE8_REACH, mode=Mode.PRIVATE), bisect_by=boss_extrude8_end, keep=Keep.BOTH, mode=Mode.PRIVATE)
    add(boss_extrude8_tool1.solids().sort_by(Axis((4.628845, 2.78943, 6.35), (0, 0, 1)))[0])
    add(boss_extrude8_tool2.solids().sort_by(Axis((4.713822, -3.625865, 6.35), (0, 0, 1)))[0])

    # Sketch28 → Cut-Extrude19 (cut, two sides)
    with BuildSketch(Plane.XY) as cut_extrude19_sk:
        with BuildLine():
            Line((29.030898019, -12.565524716), (30.694106103, -12.711036568))
            ThreePointArc((30.694106103, -12.711036568), (28.952742854, -15.004442745), (26.207895332, -15.875))
            Line((26.207895332, -15.875), (22.737597804, -15.875))
            ThreePointArc((22.737597804, -15.875), (19.409236601, -15.581985677), (16.183264637, -14.711956609))
            ThreePointArc((16.183264637, -14.711956609), (14.809533786, -14.146902347), (13.48400503, -13.476532085))
            Line((13.48400503, -13.476532085), (15.808154767, -12.85377804))
            ThreePointArc((15.808154767, -12.85377804), (16.266196274, -13.044120459), (16.729459067, -13.221376891))
            ThreePointArc((16.729459067, -13.221376891), (19.686600035, -14.018903538), (22.737597804, -14.2875))
            Line((22.737597804, -14.2875), (26.207895332, -14.2875))
            ThreePointArc((26.207895332, -14.2875), (27.861266362, -13.823033017), (29.030898019, -12.565524716))
        make_face()
    extrude(amount=CUT_EXTRUDE19_DEPTH, mode=Mode.SUBTRACT)
    extrude(cut_extrude19_sk.sketch, amount=-CUT_EXTRUDE19_DEPTH_BACK, mode=Mode.SUBTRACT)


solid = body_2.part
